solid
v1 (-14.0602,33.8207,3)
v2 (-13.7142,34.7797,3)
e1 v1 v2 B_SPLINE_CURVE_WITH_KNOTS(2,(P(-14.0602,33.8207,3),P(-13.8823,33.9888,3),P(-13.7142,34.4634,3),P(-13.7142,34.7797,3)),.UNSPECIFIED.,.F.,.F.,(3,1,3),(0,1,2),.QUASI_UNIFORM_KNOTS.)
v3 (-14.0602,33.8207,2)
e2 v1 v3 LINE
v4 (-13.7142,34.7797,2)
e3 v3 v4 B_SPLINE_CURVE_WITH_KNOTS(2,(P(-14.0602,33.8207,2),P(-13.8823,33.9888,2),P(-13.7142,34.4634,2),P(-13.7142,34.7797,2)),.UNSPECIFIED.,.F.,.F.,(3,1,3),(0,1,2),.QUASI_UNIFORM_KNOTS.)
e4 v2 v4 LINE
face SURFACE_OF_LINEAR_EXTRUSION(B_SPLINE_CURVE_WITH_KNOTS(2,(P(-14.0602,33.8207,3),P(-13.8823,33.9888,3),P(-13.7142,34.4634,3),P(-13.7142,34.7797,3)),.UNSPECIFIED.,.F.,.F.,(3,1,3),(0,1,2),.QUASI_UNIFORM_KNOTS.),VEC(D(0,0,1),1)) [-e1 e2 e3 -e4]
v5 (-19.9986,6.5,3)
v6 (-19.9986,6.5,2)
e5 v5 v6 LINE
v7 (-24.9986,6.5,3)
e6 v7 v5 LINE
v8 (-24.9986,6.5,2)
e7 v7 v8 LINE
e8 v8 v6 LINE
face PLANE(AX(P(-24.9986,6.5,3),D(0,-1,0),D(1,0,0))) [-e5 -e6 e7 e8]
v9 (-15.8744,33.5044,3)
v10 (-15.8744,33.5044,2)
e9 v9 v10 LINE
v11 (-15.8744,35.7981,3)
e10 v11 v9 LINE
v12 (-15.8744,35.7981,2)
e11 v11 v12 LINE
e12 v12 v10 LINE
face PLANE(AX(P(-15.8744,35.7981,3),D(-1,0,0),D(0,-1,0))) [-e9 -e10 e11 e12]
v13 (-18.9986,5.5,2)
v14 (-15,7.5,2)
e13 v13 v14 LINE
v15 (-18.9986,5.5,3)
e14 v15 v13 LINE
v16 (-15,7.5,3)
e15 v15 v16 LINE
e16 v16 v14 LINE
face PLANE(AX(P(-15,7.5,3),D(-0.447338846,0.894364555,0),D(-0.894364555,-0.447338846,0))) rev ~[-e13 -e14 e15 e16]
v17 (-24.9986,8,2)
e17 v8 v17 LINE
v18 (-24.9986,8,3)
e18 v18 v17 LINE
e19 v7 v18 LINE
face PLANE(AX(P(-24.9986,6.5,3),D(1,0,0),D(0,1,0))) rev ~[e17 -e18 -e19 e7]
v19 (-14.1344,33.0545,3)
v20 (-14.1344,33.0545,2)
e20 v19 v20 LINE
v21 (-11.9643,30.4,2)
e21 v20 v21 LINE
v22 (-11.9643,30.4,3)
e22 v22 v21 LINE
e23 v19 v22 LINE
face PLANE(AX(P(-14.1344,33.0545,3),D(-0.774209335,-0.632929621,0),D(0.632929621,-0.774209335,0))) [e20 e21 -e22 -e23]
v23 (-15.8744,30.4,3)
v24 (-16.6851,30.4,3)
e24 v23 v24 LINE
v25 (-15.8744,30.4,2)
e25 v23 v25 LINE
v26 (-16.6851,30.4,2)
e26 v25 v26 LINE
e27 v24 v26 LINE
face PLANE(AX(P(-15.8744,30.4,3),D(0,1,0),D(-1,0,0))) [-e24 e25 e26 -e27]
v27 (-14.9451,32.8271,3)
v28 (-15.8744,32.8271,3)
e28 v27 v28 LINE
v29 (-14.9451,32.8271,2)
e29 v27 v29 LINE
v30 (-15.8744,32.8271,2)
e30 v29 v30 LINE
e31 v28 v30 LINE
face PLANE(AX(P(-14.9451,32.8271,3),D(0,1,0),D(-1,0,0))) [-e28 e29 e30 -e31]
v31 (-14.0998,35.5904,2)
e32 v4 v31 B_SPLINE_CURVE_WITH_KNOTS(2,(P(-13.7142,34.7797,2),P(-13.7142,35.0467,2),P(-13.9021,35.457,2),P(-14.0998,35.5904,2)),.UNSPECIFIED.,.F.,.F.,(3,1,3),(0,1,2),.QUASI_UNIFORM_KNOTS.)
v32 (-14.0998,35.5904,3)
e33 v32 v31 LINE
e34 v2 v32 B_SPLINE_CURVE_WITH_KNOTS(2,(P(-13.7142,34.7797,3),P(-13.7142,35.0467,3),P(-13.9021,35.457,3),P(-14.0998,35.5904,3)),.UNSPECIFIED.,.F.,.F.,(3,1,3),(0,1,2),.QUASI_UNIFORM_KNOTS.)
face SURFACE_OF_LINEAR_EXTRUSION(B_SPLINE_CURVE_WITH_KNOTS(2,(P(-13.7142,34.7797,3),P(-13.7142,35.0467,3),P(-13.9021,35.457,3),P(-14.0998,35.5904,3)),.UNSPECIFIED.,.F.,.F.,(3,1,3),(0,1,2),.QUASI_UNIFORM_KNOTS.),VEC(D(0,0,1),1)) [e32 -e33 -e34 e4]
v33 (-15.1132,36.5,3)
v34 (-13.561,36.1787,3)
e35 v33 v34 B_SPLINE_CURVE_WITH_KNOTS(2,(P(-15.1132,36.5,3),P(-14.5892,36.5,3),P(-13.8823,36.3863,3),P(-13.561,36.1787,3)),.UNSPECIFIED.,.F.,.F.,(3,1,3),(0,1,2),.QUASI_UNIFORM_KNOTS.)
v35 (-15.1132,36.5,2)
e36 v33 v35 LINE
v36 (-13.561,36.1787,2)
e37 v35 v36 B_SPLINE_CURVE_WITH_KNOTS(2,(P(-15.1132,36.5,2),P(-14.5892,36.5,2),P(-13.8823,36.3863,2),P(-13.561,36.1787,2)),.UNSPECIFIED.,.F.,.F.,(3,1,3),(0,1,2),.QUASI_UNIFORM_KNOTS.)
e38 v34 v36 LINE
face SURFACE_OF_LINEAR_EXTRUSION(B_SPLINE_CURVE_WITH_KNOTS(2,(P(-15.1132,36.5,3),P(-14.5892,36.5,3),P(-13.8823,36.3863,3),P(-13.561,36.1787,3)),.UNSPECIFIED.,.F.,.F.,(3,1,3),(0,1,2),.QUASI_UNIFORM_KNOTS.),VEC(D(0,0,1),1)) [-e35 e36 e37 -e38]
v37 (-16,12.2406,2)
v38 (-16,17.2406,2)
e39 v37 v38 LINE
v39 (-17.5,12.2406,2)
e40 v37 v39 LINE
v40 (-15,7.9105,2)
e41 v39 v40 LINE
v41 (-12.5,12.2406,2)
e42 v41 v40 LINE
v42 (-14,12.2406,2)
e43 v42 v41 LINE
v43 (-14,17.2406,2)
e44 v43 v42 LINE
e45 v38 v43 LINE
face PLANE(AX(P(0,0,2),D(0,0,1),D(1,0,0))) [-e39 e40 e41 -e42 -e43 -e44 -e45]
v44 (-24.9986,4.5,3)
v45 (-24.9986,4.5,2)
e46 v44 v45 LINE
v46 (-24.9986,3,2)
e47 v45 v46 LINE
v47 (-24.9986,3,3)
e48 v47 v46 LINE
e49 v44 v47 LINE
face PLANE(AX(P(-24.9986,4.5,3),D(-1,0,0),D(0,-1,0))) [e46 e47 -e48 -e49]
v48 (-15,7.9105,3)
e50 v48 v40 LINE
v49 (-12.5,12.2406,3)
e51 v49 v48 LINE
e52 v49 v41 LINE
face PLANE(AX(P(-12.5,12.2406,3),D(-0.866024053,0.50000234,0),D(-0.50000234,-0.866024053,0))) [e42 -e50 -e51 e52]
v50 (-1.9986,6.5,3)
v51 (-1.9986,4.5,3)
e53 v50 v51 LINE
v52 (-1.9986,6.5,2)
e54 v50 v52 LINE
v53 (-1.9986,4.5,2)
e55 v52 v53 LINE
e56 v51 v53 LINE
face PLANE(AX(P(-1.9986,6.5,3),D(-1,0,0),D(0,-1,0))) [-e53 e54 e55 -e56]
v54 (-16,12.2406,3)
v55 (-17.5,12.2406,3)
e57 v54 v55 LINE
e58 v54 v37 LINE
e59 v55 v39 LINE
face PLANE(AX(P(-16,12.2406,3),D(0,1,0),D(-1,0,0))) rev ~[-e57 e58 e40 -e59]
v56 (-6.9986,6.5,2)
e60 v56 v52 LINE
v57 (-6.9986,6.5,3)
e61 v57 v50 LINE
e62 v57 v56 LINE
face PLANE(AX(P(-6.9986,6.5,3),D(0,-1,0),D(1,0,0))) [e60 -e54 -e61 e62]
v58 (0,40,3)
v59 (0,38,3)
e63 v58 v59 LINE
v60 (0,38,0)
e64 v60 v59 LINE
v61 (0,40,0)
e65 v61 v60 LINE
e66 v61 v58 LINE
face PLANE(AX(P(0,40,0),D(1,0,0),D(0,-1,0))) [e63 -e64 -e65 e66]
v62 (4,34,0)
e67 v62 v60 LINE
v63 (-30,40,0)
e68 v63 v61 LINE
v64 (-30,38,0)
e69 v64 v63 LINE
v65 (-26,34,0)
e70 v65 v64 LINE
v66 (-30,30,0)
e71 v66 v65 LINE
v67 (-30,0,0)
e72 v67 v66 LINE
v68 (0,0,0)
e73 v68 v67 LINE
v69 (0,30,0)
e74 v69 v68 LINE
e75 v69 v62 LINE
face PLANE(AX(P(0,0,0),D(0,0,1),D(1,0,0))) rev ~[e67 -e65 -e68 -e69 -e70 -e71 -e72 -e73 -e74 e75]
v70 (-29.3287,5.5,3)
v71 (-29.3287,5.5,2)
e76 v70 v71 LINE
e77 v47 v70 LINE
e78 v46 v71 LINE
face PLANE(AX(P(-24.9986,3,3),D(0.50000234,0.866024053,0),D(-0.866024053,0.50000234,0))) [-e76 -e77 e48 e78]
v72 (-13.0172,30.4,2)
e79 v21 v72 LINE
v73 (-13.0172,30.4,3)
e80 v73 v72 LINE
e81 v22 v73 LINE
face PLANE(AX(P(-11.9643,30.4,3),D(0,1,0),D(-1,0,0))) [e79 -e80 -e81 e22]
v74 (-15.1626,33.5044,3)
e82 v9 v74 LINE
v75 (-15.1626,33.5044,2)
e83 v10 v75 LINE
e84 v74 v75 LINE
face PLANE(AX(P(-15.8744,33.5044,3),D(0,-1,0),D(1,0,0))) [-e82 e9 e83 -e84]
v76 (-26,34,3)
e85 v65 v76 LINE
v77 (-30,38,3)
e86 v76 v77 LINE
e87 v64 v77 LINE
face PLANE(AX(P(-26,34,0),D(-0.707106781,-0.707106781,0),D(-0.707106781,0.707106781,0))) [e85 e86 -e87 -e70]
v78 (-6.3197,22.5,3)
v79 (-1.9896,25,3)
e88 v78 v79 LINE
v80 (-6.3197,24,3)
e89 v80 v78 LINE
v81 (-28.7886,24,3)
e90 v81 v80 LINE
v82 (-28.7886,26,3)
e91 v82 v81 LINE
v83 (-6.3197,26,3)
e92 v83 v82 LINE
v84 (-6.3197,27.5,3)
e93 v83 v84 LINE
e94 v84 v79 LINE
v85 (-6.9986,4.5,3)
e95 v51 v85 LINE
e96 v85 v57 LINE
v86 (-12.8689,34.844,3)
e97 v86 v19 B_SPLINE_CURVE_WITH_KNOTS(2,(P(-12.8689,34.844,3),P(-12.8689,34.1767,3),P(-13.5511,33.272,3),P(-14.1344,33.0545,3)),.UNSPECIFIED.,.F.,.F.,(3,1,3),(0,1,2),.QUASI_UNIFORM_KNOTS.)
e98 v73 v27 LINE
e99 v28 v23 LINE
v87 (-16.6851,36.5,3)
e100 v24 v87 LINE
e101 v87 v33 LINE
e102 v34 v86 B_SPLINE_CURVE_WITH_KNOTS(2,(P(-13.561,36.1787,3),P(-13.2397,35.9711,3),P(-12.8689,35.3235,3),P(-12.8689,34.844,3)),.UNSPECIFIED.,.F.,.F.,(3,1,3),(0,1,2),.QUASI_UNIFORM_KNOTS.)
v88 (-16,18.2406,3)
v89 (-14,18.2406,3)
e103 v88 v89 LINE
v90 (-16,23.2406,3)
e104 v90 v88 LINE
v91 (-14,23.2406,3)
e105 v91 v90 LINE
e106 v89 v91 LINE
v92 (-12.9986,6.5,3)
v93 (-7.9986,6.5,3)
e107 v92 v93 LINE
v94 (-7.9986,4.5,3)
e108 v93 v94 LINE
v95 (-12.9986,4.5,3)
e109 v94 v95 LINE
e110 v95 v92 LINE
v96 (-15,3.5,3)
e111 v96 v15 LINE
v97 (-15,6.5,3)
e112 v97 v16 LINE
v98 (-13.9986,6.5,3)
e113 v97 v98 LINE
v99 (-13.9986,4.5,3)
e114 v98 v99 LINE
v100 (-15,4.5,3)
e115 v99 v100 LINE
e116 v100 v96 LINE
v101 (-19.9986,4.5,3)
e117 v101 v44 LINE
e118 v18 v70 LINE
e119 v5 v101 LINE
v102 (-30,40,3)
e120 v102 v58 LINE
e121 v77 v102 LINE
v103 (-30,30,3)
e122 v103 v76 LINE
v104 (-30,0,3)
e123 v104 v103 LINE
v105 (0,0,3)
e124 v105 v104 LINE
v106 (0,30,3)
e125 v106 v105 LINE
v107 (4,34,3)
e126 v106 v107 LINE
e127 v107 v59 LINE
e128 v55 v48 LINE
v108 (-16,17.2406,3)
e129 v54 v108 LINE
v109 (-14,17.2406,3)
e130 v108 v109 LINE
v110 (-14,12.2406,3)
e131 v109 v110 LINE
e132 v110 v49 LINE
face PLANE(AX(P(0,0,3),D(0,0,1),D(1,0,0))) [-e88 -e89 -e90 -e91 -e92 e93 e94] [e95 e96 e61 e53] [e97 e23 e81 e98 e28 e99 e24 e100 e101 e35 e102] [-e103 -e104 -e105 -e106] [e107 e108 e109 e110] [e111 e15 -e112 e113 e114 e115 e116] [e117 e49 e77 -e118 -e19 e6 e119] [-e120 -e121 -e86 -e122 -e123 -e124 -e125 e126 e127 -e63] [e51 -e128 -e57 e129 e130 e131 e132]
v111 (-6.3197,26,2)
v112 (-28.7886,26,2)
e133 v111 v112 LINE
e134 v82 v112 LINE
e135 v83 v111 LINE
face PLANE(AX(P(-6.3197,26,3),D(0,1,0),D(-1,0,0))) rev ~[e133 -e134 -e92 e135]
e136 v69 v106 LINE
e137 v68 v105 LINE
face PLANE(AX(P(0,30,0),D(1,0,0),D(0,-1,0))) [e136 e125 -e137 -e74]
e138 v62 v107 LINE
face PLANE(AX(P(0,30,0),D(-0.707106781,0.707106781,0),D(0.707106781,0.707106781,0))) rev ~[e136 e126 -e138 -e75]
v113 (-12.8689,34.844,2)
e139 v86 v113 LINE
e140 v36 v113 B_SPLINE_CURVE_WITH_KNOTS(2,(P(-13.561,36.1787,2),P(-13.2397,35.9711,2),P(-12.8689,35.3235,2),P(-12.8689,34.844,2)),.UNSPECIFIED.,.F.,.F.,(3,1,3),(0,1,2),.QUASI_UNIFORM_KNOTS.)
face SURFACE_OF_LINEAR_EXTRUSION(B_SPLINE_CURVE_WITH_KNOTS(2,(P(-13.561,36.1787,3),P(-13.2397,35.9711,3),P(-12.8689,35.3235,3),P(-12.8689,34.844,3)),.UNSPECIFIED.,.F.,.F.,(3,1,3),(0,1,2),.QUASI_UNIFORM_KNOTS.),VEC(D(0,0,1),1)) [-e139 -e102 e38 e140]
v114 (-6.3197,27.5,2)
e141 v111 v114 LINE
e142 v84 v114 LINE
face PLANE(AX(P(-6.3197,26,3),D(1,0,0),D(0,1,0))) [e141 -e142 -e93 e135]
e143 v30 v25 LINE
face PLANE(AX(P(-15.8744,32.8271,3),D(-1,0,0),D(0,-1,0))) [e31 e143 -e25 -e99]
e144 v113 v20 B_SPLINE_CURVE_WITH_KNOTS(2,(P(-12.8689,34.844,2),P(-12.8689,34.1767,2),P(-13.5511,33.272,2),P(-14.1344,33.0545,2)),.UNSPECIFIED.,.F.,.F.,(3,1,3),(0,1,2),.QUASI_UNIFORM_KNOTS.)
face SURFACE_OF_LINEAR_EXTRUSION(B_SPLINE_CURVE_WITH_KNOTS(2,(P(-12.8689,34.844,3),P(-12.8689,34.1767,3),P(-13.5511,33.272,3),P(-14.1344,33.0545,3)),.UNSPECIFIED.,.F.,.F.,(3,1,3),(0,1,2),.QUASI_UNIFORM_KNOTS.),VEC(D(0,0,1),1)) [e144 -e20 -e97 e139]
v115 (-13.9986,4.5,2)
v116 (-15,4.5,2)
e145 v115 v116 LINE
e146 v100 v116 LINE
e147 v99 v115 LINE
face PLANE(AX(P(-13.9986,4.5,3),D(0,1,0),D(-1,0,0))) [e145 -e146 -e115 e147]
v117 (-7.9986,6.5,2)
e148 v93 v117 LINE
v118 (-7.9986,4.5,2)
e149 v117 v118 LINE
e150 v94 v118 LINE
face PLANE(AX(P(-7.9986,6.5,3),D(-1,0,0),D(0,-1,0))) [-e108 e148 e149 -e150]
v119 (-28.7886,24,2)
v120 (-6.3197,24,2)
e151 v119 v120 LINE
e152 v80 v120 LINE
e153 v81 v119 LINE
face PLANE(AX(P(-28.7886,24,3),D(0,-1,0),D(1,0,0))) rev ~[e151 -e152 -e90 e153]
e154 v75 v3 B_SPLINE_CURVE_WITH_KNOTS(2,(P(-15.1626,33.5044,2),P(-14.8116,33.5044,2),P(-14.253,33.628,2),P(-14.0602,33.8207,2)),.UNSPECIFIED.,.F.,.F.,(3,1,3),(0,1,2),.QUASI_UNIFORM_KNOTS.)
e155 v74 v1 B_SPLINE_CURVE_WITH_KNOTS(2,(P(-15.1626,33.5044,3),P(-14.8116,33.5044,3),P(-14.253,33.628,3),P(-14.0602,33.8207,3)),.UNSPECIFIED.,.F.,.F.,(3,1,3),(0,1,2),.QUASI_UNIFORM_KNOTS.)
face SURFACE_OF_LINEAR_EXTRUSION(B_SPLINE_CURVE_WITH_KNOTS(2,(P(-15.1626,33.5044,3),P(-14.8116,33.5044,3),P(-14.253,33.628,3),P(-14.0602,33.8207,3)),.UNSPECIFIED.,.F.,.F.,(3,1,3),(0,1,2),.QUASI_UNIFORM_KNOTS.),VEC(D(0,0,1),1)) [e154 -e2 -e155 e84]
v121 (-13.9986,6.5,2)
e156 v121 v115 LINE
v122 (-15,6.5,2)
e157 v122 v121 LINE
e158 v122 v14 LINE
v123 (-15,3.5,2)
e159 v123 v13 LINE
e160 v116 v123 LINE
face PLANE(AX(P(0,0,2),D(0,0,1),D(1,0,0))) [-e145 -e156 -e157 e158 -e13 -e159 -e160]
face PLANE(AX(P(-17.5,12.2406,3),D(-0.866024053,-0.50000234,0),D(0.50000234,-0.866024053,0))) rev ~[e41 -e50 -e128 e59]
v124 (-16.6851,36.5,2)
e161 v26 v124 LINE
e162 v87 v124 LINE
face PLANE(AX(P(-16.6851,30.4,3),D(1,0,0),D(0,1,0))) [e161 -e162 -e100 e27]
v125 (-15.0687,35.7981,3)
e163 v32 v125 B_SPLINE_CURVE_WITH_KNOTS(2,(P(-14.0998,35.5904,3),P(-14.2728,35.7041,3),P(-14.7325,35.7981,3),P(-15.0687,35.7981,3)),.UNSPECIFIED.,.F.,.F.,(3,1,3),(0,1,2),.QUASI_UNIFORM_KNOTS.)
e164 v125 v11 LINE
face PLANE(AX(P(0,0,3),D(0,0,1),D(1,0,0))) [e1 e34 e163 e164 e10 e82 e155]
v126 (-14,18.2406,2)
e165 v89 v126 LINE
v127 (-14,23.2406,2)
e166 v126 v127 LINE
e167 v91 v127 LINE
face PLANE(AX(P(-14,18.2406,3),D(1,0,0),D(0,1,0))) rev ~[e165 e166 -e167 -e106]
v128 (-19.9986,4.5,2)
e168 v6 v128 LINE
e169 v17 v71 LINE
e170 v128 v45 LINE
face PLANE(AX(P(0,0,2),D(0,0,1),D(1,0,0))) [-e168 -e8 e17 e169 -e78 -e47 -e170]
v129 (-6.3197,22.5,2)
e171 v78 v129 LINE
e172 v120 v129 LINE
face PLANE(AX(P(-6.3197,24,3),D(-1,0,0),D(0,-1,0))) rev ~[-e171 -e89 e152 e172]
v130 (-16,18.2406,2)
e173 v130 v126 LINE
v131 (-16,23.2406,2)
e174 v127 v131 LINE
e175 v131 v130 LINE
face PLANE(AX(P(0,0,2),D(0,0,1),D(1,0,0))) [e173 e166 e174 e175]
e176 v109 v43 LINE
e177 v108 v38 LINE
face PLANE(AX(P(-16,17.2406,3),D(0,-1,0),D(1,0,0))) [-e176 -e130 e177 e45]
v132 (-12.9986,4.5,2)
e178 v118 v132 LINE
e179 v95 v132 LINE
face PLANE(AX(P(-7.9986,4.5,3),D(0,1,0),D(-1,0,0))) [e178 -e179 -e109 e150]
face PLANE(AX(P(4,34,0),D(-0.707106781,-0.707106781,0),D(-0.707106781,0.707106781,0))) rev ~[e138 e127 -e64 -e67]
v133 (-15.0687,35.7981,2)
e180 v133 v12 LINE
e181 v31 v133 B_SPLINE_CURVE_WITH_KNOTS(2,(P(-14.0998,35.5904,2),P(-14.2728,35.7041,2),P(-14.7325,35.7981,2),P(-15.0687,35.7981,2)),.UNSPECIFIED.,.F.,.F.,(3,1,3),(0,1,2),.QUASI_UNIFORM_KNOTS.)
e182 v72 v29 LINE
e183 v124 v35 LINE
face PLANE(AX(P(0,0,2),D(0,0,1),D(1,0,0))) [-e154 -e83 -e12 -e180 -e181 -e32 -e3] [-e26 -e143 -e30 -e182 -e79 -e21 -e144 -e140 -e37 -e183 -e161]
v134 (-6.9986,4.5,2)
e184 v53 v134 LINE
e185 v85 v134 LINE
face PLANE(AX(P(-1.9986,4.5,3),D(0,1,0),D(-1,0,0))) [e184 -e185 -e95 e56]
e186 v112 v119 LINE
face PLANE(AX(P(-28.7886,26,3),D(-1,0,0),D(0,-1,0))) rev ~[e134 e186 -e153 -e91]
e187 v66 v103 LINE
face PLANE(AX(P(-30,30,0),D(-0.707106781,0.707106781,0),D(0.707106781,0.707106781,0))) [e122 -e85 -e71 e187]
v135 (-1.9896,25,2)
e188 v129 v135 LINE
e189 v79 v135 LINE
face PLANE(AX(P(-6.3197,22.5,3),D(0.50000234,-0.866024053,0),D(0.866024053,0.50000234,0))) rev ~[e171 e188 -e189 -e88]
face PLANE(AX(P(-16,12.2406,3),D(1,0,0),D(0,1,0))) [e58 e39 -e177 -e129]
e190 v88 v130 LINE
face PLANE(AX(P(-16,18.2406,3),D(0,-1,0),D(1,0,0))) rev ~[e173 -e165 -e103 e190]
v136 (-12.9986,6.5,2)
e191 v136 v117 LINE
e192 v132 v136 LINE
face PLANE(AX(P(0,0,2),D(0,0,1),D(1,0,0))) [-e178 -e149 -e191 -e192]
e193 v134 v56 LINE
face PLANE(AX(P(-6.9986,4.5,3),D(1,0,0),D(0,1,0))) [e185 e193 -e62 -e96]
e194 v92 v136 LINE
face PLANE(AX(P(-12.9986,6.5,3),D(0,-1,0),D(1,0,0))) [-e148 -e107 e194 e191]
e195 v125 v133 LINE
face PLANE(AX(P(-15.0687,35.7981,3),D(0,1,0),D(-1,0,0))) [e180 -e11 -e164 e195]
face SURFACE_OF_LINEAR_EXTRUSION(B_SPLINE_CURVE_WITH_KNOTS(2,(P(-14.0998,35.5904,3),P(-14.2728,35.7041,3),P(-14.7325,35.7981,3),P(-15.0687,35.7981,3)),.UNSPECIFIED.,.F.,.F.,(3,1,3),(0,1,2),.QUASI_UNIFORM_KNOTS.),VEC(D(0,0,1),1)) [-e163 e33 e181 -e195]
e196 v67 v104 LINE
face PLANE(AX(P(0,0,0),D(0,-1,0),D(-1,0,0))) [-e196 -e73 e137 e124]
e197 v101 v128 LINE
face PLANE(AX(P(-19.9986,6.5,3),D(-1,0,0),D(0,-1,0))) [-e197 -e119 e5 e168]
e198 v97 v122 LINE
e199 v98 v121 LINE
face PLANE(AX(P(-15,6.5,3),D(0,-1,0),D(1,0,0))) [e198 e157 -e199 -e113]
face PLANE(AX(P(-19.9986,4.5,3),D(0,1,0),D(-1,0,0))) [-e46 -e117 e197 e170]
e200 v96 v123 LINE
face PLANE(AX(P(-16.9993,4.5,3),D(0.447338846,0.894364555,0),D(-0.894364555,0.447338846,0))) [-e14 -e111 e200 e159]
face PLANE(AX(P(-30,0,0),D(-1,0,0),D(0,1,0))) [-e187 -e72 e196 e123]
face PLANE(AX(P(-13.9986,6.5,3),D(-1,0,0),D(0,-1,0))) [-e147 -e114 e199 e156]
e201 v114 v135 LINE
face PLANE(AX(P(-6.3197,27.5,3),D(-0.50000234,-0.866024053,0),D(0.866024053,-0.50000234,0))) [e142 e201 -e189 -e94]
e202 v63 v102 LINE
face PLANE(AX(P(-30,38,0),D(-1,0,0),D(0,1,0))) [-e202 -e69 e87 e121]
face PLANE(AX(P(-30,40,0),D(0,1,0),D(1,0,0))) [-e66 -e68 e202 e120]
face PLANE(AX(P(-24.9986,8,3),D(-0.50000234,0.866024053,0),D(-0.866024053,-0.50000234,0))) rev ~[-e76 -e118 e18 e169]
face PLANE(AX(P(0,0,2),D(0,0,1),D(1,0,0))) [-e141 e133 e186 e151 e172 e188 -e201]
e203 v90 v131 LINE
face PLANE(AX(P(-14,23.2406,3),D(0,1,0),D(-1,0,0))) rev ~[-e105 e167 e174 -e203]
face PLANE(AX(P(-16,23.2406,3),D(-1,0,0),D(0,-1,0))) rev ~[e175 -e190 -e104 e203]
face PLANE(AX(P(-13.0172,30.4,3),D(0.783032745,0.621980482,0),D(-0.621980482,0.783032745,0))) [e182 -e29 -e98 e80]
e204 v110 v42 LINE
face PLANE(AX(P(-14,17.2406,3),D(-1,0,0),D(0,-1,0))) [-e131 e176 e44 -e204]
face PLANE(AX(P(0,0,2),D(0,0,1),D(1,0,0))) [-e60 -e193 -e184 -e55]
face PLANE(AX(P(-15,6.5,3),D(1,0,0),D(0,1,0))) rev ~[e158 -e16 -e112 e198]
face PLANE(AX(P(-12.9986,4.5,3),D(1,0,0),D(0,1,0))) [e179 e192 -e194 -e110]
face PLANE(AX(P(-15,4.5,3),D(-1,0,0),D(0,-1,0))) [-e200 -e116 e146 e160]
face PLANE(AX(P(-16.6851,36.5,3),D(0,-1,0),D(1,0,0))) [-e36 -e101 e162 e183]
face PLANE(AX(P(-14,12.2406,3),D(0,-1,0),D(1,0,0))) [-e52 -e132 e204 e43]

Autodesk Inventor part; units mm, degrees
ref_plane "YZ Plane" through (0, 0, 0) normal (1, 0, 0) x (0, 1, 0)
ref_plane "XZ Plane" through (0, 0, 0) normal (0, 1, 0) x (-1, 0, 0)
ref_plane "XY Plane" through (0, 0, 0) normal (0, 0, 1) x (1, 0, 0)
sketch "Sketch1" plane through (0, 0, 0) normal (0, 0, 1) x (1, 0, 0)
  line L0 (0, 0) -> (-30, 0)
  line L1 (-30, 40) -> (0, 40)
  line L2 (-36.1318, 34) -> (13.8682, 34) construction
  circle A0 centre (0, 34) radius 4 construction
  circle A1 centre (-30, 34) radius 4 construction
  line L3 (-30, 30) -> (0, 30) construction
  line L4 (0, 30) -> (4, 34)
  line L5 (4, 34) -> (0, 38)
  line L6 (-30, 30) -> (-26, 34)
  line L7 (-26, 34) -> (-30, 38)
  line L8 (-30, 0) -> (-30, 30)
  line L9 (-30, 38) -> (-30, 40)
  line L10 (0, 40) -> (0, 38)
  line L11 (0, 30) -> (0, 0)
  dimension "d0" = 30
  dimension "d1" = 40
  dimension "d2" = 50
  dimension "d3" = 6
  dimension "d4" = 8
  dimension "d5" = 8
extrude "Extrusion1" add sketch "Sketch1" along normal blind 3
sketch "Sketch2" plane through (0, 0, 3) normal (0, 0, 1) x (1, 0, 0)
  line L0 (-30, 30) -> (-30, 0) construction
  line L1 (-30, 0) -> (0, 0) construction
  line L2 (0, 0) -> (0, 30) construction
  line L3 (-17.303, 36.5) -> (-11.9002, 36.5) construction
  line L4 (-11.9002, 36.5) -> (-11.9002, 30.2072) construction
  line L5 (-11.9002, 30.2072) -> (-17.303, 30.2072) construction
  line L6 (-17.303, 30.2072) -> (-17.303, 36.5) construction
  line L7 (-28.7886, 24) -> (-6.3197, 24)
  line L8 (-6.3197, 24) -> (-6.3197, 26)
  line L9 (-6.3197, 26) -> (-28.7886, 26)
  line L10 (-30, 25) -> (0, 25) construction
  line L11 (-6.3197, 26) -> (-6.3197, 27.5)
  line L12 (-6.3197, 27.5) -> (-1.9896, 25)
  line L13 (-6.3197, 24) -> (-6.3197, 22.5)
  line L14 (-6.3197, 22.5) -> (-1.9896, 25)
  line L15 (-16, 12.2406) -> (-17.5, 12.2406)
  line L16 (-17.5, 12.2406) -> (-15, 7.9105)
  line L17 (-14, 12.2406) -> (-12.5, 12.2406)
  line L18 (-12.5, 12.2406) -> (-15, 7.9105)
  line L19 (-30, 5.5) -> (0, 5.5) construction
  line L20 (-6.9986, 6.5) -> (-1.9986, 6.5)
  line L21 (-1.9986, 6.5) -> (-1.9986, 4.5)
  line L22 (-1.9986, 4.5) -> (-6.9986, 4.5)
  line L23 (-6.9986, 4.5) -> (-6.9986, 6.5)
  line L24 (-6.9986, 6.5) -> (-1.9986, 4.5) construction
  line L25 (-1.9986, 6.5) -> (-6.9986, 4.5) construction
  line L26 (-1.9896, 25) -> (-1.9896, 0) construction
  line L27 (-12.9986, 6.5) -> (-7.9986, 6.5)
  line L28 (-36, 5.5) -> (-6, 5.5) construction
  line L29 (-7.9986, 4.5) -> (-12.9986, 4.5)
  line L30 (-12.9986, 4.5) -> (-12.9986, 6.5)
  line L31 (-7.9986, 6.5) -> (-7.9986, 4.5)
  line L32 (-18.9986, 6.5) -> (-13.9986, 6.5)
  line L33 (-42, 5.5) -> (-12, 5.5) construction
  line L34 (-13.9986, 4.5) -> (-18.9986, 4.5)
  line L35 (-18.9986, 4.5) -> (-18.9986, 5.4478)
  line L36 (-13.9986, 6.5) -> (-13.9986, 4.5)
  line L37 (-24.9986, 6.5) -> (-19.9986, 6.5)
  line L38 (-48, 5.5) -> (-18, 5.5) construction
  line L39 (-19.9986, 4.5) -> (-24.9986, 4.5)
  line L40 (-24.9986, 4.5) -> (-24.9986, 6.5)
  line L41 (-19.9986, 6.5) -> (-19.9986, 4.5)
  line L42 (-24.9986, 6.5) -> (-24.9986, 8)
  line L43 (-24.9986, 8) -> (-29.3287, 5.5)
  line L44 (-24.9986, 4.5) -> (-24.9986, 3)
  line L45 (-24.9986, 3) -> (-29.3287, 5.5)
  line L46 (-28.7886, 26) -> (-28.7886, 24)
  line L47 (-15, 6.5) -> (-15, 7.5)
  line L48 (-15, 7.5) -> (-18.9986, 5.5)
  line L49 (-15, 4.5) -> (-15, 3.5)
  line L50 (-15, 3.5) -> (-18.9986, 5.5)
  line L51 (-15, 6.5) -> (-13.9986, 6.5)
  line L52 (-13.9986, 6.5) -> (-13.9986, 4.5)
  line L53 (-13.9986, 4.5) -> (-15, 4.5)
  line L54 (-15, -0.4455) -> (-15, 27.9265) construction
  line L55 (-16, 12.2406) -> (-16, 17.2406)
  line L56 (-14, 17.2406) -> (-14, 12.2406)
  line L57 (-16, 18.2406) -> (-14, 18.2406)
  line L58 (-14, 18.2406) -> (-14, 23.2406)
  line L59 (-14, 23.2406) -> (-16, 23.2406)
  line L60 (-16, 23.2406) -> (-16, 18.2406)
  line L61 (-16, 17.2406) -> (-14, 17.2406)
  line L62 (0, 40) -> (-30, 40) construction
  line L63 (-11.9643, 30.4) -> (-13.0172, 30.4)
  line L64 (-13.0172, 30.4) -> (-14.9451, 32.8271)
  line L65 (-14.9451, 32.8271) -> (-15.8744, 32.8271)
  line L66 (-15.8744, 32.8271) -> (-15.8744, 30.4)
  line L67 (-15.8744, 30.4) -> (-16.6851, 30.4)
  line L68 (-16.6851, 30.4) -> (-16.6851, 36.5)
  line L69 (-16.6851, 36.5) -> (-15.1132, 36.5)
  spline S0 degree 2 poles (-15.1132, 36.5) (-14.5892, 36.5) (-13.8823, 36.3863) (-13.561, 36.1787) knots 0 0 0 1 2 2 2
  spline S1 degree 2 poles (-13.561, 36.1787) (-13.2397, 35.9711) (-12.8689, 35.3235) (-12.8689, 34.844) knots 0 0 0 1 2 2 2
  spline S2 degree 2 poles (-12.8689, 34.844) (-12.8689, 34.1767) (-13.5511, 33.272) (-14.1344, 33.0545) knots 0 0 0 1 2 2 2
  line L70 (-14.1344, 33.0545) -> (-11.9643, 30.4)
  spline S3 degree 2 poles (-13.7142, 34.7797) (-13.7142, 35.0467) (-13.9021, 35.457) (-14.0998, 35.5904) knots 0 0 0 1 2 2 2
  spline S4 degree 2 poles (-14.0998, 35.5904) (-14.2728, 35.7041) (-14.7325, 35.7981) (-15.0687, 35.7981) knots 0 0 0 1 2 2 2
  line L71 (-15.0687, 35.7981) -> (-15.8744, 35.7981)
  line L72 (-15.8744, 35.7981) -> (-15.8744, 33.5044)
  line L73 (-15.8744, 33.5044) -> (-15.1626, 33.5044)
  spline S5 degree 2 poles (-15.1626, 33.5044) (-14.8116, 33.5044) (-14.253, 33.628) (-14.0602, 33.8207) knots 0 0 0 1 2 2 2
  spline S6 degree 2 poles (-14.0602, 33.8207) (-13.8823, 33.9888) (-13.7142, 34.4634) (-13.7142, 34.7797) knots 0 0 0 1 2 2 2
  point P0 (-30, 24.9574)
  point P1 (-4.4986, 5.5)
  point P2 (-10.4986, 5.5)
  point P3 (-16.4986, 5.5)
  point P4 (-22.4986, 5.5)
  point P5 (-15, 7.9105)
  point P6 (-15, 18.2406)
  point P7 (-15, 40)
  dimension "d18" = 1.5
  dimension "d19" = 5
  dimension "d20" = 1.5
  dimension "d21" = 1.5
  dimension "d22" = 5
  dimension "d23" = 1.5
  dimension "d24" = 5
  dimension "d25" = 2
  dimension "d28" = 6
  dimension "d33" = 1.5
  dimension "d34" = 5
  dimension "d35" = 1.5
  dimension "d38" = 1
  dimension "d39" = 1
  dimension "d40" = 25
  dimension "d41" = 1
  dimension "d42" = 1
  dimension "d43" = 5
  dimension "d44" = 2
  dimension "d45" = 5
  dimension "d47" = 1
  dimension "d48" = 8
  dimension "d49" = 3.5
extrude "Extrusion2" cut sketch "Sketch2" against normal blind 1
properties part number "MS_R[202] text"
